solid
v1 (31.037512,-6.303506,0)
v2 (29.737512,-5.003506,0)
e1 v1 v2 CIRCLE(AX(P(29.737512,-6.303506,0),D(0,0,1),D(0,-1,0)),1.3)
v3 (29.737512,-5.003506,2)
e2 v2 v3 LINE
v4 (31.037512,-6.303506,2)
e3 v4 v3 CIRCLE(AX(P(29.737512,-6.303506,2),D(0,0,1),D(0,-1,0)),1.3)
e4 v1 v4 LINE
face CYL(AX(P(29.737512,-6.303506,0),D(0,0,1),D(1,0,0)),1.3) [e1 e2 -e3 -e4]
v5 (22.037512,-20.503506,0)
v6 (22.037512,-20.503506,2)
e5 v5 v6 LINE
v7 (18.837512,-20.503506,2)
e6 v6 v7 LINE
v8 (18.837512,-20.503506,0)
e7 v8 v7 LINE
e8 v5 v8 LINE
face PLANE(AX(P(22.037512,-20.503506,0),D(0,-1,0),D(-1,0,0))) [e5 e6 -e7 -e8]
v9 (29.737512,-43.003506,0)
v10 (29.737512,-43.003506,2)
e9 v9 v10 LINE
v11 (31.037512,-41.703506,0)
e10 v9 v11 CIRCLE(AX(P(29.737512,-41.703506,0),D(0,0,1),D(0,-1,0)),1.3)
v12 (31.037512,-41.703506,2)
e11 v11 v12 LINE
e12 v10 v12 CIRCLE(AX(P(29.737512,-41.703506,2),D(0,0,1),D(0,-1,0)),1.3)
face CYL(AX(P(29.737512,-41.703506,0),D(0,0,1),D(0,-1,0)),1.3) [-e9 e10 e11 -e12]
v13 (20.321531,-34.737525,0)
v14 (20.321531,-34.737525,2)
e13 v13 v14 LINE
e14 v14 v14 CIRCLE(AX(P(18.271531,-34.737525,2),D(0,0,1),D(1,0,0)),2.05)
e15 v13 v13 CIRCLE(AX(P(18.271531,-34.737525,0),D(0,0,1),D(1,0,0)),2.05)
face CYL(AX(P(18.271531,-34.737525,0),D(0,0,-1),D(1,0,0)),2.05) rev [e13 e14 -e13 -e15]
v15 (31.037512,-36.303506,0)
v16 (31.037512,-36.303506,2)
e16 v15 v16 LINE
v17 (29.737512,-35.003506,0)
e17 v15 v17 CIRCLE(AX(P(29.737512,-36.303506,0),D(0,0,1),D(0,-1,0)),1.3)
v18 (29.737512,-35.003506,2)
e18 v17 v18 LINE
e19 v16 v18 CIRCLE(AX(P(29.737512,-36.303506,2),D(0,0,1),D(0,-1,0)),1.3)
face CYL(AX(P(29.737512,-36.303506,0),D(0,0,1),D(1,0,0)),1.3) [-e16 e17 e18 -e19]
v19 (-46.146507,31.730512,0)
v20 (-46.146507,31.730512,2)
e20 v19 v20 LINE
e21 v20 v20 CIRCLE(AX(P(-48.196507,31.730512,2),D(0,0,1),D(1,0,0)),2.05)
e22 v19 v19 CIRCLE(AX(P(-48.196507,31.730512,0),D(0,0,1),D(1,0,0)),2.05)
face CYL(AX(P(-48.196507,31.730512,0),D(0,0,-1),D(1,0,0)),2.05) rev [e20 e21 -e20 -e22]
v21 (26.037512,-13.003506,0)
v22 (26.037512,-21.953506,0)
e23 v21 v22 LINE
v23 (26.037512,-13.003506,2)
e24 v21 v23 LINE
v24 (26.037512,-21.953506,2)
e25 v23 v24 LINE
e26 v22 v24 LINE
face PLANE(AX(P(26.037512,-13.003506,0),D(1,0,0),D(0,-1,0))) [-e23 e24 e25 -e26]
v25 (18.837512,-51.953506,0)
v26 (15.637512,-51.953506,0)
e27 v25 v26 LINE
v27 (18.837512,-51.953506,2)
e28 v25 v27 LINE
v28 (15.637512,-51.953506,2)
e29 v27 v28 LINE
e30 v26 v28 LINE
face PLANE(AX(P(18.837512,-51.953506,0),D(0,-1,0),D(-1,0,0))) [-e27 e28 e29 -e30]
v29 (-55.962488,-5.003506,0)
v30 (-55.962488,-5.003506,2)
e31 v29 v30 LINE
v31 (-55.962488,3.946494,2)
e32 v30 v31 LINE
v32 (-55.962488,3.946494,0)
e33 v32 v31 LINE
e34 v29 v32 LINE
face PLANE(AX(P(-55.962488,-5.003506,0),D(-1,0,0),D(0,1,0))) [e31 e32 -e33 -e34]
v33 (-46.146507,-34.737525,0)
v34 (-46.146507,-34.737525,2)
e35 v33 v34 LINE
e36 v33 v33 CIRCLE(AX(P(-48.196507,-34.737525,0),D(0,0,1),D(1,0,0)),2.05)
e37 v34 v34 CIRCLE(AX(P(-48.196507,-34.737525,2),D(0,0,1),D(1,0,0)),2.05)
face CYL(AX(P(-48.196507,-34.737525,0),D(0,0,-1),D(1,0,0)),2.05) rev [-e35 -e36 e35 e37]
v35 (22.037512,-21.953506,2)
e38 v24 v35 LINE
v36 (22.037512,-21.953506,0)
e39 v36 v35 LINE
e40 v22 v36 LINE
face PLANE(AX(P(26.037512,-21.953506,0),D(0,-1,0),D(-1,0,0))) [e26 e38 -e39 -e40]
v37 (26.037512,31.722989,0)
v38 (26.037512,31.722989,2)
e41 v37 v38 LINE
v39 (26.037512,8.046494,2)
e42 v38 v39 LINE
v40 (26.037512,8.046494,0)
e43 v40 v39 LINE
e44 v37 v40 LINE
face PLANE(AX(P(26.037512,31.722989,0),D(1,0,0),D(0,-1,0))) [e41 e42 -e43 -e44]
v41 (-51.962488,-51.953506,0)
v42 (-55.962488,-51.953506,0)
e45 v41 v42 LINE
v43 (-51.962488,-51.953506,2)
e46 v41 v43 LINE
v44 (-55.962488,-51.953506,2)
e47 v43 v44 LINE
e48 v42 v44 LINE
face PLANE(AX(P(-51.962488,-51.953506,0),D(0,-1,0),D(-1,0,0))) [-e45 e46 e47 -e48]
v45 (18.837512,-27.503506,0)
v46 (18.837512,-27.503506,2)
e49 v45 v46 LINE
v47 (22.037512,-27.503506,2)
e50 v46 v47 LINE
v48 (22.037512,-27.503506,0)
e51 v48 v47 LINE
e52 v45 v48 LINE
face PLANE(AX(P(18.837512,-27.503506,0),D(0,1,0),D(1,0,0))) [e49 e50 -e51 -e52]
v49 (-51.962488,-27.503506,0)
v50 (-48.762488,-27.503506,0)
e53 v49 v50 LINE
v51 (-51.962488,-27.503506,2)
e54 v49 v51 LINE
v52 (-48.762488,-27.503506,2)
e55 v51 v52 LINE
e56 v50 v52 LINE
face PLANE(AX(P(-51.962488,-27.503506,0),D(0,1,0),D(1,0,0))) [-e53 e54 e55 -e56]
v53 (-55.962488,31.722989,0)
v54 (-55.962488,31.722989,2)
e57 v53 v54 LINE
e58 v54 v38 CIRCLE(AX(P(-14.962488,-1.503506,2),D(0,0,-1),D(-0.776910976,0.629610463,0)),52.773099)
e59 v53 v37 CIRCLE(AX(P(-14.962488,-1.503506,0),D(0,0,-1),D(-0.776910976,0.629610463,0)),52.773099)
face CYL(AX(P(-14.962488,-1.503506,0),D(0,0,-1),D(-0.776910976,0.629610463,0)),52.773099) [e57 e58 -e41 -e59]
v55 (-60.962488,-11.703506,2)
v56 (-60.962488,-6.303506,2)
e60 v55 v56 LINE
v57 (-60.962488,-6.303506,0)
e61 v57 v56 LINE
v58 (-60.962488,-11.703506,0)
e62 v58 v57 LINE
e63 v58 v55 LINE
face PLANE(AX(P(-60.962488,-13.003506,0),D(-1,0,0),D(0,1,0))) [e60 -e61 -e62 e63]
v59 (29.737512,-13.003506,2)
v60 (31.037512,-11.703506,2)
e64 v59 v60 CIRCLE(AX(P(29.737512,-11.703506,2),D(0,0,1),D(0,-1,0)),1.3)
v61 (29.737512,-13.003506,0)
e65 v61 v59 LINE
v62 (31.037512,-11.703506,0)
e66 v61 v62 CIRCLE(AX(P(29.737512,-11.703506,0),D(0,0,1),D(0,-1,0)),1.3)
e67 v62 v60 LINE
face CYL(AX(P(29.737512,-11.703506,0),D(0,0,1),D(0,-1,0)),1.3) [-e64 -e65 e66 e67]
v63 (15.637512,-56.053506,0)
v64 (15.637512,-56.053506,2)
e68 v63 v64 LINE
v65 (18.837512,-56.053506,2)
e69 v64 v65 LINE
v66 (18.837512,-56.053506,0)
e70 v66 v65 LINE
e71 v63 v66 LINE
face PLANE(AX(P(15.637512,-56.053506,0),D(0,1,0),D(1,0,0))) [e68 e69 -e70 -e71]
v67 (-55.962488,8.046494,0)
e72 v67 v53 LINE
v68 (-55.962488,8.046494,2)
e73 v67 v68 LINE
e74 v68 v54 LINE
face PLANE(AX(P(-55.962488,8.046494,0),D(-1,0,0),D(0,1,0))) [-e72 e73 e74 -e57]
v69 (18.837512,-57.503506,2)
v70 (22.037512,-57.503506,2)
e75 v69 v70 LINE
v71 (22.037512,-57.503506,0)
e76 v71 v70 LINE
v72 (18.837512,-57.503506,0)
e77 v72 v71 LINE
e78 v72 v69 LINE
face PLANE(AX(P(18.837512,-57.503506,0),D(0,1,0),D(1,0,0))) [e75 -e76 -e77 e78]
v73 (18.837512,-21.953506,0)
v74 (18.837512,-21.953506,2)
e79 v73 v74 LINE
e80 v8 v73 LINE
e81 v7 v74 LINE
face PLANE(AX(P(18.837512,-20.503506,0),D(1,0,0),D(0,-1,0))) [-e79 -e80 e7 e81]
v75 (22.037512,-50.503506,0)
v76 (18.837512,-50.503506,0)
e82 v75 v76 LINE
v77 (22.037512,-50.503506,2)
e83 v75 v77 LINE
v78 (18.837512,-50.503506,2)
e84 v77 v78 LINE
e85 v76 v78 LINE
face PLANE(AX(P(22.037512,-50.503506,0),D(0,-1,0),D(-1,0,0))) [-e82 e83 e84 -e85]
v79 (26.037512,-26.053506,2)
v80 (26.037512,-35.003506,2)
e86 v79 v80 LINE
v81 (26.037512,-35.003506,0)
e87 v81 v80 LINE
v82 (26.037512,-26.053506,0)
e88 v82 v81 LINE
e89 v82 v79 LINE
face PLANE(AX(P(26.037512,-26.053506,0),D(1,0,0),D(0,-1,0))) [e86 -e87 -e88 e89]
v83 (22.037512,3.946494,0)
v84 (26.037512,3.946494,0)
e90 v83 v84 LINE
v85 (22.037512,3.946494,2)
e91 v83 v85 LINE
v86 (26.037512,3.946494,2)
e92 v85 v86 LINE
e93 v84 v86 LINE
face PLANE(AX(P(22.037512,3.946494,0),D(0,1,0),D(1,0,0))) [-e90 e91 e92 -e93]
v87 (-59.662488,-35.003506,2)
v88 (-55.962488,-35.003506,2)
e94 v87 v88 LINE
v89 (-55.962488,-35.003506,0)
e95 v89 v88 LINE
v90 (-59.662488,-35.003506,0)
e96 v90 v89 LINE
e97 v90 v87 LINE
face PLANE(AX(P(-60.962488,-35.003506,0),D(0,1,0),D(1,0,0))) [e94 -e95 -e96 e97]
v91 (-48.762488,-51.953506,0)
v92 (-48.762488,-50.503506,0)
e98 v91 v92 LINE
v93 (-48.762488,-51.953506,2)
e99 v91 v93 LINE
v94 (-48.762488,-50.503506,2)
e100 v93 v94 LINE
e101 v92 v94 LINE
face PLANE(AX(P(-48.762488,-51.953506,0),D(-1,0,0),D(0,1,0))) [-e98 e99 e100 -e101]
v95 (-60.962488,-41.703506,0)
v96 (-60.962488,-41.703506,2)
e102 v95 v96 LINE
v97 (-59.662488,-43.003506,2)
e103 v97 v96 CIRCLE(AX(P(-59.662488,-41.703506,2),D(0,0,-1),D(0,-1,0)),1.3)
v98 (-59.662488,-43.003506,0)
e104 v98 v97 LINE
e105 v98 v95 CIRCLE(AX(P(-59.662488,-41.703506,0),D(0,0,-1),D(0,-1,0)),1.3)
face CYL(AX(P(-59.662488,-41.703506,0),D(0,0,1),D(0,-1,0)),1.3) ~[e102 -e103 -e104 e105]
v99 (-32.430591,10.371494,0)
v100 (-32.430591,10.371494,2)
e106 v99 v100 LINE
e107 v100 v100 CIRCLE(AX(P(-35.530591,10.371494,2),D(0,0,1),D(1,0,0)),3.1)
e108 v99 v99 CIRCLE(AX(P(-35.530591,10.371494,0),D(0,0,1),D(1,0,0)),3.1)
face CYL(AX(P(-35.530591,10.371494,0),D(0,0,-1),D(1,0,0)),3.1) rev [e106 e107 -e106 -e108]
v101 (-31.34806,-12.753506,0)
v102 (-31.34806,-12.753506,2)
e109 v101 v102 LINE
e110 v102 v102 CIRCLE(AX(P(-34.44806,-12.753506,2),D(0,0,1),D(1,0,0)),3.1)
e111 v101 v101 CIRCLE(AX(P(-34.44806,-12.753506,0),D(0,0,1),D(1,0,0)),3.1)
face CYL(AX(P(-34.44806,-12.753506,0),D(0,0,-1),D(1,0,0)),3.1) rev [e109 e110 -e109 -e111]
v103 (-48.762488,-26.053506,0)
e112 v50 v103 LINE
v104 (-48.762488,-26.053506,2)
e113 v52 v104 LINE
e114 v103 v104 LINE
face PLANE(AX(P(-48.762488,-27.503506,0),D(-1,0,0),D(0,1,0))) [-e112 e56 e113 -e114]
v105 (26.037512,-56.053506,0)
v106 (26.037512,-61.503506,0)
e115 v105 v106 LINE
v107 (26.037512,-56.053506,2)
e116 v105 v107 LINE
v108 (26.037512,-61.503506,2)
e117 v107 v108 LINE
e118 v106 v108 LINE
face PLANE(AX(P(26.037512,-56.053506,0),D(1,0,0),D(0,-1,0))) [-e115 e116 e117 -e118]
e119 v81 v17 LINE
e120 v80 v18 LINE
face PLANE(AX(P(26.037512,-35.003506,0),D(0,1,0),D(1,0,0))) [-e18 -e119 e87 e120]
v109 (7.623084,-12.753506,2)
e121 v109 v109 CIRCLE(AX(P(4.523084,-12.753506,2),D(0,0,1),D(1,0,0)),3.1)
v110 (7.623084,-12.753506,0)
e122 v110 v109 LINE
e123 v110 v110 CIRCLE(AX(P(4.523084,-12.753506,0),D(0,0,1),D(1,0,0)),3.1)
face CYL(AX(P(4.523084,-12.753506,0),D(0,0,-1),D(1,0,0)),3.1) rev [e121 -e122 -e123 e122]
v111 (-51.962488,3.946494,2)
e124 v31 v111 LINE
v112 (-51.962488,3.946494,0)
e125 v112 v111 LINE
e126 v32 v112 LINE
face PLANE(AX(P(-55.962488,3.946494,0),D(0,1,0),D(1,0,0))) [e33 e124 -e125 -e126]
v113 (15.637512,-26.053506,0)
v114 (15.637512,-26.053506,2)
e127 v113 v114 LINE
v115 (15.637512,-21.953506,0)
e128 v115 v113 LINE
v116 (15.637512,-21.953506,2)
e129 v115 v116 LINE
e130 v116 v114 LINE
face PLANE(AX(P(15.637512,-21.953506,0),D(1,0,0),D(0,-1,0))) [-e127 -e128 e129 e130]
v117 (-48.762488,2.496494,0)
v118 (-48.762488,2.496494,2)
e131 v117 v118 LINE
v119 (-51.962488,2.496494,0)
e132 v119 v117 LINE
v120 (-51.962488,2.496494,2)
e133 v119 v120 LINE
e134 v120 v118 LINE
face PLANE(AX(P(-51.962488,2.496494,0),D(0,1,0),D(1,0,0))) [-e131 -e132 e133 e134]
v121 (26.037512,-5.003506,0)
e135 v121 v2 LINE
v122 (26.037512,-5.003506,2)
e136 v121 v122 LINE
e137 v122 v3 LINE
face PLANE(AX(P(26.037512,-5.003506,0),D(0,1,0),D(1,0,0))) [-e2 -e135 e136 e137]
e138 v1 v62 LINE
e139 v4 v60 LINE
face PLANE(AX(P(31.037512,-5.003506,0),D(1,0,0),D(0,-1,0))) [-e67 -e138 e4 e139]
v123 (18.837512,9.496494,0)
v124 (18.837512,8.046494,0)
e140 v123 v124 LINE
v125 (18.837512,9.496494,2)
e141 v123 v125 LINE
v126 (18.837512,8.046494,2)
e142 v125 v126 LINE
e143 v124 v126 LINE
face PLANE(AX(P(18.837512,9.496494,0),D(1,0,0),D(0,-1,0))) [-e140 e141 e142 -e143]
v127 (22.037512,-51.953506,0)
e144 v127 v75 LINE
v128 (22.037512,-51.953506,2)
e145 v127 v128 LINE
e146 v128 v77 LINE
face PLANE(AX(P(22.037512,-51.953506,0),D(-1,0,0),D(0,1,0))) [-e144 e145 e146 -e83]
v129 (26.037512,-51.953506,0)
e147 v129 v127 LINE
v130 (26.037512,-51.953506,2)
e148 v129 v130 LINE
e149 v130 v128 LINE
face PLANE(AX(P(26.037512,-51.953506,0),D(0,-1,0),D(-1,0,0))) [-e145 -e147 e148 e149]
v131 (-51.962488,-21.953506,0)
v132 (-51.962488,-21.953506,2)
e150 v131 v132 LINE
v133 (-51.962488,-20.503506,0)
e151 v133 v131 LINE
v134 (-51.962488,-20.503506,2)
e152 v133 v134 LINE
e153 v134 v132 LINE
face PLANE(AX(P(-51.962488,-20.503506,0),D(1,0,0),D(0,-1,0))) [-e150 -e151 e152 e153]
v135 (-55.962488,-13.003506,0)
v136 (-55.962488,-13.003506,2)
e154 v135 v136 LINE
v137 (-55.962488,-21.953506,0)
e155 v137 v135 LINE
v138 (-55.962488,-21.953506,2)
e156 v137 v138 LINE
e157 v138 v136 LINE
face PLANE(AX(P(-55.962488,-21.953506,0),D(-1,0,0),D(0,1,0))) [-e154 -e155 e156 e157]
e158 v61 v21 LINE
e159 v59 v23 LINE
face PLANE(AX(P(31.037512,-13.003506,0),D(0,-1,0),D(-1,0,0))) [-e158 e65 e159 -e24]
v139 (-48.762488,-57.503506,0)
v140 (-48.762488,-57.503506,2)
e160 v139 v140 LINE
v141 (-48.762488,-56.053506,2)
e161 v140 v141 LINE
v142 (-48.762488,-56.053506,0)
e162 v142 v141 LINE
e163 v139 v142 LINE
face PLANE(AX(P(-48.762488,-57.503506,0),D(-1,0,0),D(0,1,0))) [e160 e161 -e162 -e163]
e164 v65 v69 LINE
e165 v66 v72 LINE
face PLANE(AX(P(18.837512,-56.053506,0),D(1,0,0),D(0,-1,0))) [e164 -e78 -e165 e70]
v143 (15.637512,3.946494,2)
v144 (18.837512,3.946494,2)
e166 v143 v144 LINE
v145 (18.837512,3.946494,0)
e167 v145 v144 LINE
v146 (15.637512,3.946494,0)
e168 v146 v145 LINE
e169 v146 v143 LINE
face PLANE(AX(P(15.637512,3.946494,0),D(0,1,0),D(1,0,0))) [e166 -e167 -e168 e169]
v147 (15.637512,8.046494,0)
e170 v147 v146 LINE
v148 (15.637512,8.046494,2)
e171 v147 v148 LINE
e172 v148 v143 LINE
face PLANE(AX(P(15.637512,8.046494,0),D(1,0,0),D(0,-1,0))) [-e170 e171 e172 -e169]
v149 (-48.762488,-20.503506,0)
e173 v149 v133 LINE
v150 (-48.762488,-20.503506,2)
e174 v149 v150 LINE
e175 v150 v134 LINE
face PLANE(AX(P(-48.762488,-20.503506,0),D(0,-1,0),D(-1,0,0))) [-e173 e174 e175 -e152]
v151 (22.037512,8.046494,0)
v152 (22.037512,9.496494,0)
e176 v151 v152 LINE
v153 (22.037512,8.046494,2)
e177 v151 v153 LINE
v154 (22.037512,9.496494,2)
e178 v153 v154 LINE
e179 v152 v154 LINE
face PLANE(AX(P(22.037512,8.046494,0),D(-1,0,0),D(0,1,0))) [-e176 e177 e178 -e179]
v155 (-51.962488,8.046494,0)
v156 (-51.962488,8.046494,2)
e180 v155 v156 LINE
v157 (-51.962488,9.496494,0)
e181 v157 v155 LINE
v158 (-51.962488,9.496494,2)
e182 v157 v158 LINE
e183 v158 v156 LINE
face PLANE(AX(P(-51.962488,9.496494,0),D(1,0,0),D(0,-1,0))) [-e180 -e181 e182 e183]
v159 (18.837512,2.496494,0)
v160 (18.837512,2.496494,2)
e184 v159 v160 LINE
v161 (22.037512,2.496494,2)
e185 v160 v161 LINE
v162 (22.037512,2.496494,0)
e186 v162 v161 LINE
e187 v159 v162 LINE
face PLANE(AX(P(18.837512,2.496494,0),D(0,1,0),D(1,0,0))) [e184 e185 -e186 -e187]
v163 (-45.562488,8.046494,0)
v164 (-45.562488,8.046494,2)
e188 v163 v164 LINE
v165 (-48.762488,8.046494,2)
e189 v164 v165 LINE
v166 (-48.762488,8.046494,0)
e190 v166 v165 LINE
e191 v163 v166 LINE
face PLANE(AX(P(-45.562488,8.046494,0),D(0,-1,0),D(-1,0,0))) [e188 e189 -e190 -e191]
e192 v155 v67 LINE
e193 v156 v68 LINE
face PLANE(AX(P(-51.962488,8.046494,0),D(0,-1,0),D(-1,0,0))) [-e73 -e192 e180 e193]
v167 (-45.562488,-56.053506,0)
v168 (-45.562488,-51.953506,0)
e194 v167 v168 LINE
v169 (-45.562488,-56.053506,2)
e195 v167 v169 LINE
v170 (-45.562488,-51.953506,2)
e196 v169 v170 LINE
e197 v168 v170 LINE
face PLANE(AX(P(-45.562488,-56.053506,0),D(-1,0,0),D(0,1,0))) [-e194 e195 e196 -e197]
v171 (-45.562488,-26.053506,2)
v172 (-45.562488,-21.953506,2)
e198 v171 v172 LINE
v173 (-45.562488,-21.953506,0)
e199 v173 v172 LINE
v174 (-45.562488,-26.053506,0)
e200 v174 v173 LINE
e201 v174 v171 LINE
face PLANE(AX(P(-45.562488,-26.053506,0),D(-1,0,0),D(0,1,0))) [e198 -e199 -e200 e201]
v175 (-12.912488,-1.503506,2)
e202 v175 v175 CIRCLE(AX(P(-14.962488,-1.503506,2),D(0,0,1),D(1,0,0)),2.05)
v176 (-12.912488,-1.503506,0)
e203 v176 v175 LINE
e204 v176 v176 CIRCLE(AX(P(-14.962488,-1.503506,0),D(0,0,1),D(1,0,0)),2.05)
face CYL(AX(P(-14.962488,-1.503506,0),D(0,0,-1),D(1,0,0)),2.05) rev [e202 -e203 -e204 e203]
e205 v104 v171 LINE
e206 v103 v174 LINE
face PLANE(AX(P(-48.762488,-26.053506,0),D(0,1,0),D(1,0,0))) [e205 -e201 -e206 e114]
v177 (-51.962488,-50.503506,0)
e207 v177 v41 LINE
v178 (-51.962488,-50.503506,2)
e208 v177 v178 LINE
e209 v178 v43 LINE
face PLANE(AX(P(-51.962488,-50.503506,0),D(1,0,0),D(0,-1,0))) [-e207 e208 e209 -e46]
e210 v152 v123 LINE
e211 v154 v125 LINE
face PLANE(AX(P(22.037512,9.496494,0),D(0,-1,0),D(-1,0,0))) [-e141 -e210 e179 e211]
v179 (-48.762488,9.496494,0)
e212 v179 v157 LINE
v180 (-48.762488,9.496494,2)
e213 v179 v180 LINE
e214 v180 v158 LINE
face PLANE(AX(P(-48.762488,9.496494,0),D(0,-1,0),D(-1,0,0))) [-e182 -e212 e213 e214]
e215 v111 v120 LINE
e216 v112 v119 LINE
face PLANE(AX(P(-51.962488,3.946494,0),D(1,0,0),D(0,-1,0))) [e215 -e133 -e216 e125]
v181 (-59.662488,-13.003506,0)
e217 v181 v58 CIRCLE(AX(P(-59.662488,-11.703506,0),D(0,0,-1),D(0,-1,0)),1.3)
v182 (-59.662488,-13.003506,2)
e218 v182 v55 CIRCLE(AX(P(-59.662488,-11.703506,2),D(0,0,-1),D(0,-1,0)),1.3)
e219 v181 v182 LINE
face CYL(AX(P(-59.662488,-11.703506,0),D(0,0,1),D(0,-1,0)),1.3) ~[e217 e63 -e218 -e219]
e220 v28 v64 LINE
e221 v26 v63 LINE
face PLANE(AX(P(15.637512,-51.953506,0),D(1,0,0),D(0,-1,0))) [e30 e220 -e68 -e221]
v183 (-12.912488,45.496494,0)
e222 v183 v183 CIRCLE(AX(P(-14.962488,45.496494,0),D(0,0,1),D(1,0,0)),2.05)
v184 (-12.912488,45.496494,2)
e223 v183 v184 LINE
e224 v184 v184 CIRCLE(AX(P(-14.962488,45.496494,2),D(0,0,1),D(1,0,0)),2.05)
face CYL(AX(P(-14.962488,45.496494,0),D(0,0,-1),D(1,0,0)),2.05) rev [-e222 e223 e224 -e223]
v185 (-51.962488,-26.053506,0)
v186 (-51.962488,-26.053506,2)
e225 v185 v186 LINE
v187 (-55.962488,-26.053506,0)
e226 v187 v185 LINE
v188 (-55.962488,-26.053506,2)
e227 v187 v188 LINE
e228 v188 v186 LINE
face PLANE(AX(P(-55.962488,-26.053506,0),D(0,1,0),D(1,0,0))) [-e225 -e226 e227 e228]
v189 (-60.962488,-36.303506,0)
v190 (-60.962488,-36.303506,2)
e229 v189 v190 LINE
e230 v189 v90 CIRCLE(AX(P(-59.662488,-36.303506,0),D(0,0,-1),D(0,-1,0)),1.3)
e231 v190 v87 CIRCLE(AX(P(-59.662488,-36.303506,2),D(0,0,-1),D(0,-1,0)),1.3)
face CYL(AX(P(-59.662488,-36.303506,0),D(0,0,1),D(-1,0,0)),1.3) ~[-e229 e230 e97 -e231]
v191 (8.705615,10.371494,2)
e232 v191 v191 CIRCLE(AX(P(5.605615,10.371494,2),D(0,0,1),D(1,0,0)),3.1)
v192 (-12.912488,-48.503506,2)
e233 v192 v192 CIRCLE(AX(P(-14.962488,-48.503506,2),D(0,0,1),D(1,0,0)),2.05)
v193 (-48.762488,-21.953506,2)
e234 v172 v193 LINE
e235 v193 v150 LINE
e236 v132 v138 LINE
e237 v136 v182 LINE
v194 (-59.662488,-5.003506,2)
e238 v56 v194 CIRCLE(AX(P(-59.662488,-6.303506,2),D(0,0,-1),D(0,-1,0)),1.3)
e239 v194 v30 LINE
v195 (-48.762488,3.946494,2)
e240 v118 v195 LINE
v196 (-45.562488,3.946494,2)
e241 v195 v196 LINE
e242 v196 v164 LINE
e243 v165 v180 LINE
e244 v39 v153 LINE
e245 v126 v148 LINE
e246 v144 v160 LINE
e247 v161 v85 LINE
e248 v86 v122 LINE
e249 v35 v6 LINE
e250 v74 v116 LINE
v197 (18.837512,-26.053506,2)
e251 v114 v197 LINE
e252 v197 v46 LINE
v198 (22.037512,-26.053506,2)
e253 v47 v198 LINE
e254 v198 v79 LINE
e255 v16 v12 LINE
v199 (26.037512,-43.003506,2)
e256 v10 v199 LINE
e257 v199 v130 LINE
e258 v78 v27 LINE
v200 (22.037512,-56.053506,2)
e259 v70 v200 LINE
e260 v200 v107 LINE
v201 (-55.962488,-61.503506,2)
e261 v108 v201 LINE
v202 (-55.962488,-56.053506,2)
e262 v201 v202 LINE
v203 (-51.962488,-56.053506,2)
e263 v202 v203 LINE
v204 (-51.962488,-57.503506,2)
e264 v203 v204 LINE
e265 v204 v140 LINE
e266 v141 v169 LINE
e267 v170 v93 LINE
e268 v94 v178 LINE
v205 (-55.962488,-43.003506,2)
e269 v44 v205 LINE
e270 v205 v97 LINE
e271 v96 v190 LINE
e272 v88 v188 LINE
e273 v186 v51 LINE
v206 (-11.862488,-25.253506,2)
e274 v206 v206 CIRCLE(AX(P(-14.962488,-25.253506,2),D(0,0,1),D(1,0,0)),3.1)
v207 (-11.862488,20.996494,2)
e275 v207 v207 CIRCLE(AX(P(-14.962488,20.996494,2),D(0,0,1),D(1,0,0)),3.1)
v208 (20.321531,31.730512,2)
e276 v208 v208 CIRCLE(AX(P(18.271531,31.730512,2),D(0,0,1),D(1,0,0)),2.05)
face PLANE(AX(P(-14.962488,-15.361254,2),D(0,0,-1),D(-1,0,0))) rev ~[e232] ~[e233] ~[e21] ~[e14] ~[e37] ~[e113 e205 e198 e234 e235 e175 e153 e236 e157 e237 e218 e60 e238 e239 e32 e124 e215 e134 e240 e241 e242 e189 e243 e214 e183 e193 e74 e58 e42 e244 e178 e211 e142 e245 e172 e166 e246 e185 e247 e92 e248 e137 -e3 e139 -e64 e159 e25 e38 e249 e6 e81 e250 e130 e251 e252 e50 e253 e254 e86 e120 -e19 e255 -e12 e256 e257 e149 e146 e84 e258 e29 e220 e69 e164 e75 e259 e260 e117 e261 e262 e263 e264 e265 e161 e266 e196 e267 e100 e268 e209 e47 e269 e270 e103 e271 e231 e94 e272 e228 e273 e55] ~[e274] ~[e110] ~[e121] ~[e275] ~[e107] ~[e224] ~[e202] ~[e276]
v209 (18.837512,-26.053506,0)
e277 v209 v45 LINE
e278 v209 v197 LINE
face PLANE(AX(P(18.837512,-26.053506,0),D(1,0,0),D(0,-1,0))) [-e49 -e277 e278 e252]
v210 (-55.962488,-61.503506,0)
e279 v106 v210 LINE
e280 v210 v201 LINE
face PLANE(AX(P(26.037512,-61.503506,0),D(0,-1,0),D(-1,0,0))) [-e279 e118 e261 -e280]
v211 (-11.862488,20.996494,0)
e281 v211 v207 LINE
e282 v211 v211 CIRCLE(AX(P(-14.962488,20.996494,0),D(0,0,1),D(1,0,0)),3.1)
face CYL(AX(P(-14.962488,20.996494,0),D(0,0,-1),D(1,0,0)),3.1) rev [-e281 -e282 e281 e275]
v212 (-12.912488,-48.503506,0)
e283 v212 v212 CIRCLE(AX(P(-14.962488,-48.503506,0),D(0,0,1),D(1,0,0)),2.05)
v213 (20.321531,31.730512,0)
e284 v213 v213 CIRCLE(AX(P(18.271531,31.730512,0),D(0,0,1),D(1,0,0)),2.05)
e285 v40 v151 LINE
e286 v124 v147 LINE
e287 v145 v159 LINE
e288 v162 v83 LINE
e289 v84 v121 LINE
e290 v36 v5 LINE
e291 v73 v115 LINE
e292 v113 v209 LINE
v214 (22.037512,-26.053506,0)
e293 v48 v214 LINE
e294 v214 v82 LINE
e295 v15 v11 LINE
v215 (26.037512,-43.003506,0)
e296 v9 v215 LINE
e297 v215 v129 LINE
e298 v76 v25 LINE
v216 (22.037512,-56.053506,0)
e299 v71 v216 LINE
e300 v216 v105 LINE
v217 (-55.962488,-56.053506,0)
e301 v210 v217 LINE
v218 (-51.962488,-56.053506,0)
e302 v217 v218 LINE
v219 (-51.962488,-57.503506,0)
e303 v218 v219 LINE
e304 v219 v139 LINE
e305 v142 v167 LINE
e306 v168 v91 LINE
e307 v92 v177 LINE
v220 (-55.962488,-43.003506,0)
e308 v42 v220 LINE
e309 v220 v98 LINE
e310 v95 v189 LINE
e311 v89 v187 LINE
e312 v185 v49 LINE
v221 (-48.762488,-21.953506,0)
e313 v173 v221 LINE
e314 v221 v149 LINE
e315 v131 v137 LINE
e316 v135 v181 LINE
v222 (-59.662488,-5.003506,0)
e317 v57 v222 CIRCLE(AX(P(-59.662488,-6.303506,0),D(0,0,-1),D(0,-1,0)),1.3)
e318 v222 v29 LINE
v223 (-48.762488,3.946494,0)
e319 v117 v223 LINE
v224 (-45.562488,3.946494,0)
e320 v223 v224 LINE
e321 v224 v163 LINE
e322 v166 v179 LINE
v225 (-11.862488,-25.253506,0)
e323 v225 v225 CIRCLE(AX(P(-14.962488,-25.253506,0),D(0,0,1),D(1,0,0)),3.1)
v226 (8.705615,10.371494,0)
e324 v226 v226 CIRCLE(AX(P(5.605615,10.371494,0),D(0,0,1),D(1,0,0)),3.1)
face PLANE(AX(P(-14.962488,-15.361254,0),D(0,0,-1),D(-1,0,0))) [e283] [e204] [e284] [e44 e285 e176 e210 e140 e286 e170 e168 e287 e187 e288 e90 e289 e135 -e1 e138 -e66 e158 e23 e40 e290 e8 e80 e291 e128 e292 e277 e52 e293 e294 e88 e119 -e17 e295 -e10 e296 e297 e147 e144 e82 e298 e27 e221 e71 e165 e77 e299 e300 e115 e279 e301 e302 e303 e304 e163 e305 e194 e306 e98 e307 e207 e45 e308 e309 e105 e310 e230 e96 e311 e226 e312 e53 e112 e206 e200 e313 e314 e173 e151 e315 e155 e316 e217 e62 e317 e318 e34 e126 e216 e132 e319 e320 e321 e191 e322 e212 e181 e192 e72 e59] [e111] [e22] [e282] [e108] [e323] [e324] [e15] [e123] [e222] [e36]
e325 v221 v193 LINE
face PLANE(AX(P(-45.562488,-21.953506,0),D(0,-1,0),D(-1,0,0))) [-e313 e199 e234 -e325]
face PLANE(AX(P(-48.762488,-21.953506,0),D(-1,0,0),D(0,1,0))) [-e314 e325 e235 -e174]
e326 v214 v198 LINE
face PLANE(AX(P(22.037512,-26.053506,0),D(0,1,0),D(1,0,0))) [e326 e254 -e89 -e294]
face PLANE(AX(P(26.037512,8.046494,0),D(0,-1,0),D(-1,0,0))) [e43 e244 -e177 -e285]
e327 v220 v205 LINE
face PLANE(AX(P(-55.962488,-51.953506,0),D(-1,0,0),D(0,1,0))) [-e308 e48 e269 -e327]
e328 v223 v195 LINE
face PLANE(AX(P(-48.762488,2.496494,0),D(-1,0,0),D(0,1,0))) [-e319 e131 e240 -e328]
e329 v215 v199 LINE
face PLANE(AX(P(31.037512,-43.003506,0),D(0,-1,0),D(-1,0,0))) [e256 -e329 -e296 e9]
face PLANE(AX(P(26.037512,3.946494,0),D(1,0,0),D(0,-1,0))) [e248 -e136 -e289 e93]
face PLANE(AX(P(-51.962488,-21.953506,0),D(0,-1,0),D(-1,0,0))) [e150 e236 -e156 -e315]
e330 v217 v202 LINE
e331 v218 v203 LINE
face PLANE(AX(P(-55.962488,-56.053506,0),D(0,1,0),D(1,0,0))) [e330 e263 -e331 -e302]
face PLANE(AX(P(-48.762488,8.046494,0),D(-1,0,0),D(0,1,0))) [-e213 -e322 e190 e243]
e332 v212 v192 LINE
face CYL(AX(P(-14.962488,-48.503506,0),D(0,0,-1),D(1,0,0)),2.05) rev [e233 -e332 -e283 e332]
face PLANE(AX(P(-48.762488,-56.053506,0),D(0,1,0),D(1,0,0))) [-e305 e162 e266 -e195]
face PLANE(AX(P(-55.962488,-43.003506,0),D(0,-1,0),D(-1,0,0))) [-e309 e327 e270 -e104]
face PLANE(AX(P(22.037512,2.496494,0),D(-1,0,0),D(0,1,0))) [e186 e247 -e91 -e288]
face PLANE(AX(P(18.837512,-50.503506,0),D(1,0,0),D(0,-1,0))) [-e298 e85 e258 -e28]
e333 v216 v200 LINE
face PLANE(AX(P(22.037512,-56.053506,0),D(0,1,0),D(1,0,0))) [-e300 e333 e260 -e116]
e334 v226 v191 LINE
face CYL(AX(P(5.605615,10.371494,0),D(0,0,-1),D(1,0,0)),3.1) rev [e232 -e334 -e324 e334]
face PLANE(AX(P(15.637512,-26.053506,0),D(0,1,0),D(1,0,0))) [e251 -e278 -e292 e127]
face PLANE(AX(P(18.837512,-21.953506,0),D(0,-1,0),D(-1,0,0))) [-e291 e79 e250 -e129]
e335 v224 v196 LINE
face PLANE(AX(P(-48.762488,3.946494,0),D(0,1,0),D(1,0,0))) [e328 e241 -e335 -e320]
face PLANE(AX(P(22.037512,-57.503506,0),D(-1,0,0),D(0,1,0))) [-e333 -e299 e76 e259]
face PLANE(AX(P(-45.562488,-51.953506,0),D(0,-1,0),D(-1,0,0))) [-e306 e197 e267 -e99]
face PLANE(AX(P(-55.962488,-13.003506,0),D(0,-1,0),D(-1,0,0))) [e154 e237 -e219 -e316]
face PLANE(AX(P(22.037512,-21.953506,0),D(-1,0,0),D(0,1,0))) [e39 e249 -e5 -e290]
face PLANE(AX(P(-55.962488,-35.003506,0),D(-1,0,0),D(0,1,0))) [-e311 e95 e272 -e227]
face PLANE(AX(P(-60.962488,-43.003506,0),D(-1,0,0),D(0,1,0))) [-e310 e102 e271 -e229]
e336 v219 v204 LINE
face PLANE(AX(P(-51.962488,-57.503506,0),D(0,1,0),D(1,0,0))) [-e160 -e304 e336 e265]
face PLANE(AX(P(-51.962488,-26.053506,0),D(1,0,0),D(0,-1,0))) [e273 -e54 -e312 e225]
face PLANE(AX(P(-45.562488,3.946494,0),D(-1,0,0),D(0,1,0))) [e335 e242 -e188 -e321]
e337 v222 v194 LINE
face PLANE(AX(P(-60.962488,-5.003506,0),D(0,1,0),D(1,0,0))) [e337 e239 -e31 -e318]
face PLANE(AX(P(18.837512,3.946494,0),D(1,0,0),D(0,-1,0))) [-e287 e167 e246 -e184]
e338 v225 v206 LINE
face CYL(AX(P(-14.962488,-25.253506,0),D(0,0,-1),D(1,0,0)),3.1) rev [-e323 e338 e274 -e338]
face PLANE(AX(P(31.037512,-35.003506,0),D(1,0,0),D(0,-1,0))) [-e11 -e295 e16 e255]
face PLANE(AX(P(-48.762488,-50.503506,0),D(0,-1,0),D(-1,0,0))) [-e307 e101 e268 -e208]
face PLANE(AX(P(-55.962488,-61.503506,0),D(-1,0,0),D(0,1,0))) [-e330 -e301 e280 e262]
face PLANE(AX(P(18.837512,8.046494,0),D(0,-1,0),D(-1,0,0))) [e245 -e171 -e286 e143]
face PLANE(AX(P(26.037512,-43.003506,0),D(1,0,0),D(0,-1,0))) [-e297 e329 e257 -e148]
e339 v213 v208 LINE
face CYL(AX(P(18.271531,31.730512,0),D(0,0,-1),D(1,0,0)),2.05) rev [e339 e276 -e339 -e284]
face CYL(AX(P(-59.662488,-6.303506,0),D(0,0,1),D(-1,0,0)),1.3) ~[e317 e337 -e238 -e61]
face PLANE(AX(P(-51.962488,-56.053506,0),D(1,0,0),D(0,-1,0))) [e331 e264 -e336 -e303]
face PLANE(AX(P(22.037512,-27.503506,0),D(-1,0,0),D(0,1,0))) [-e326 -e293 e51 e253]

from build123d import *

# Parameters (mm, degrees)
SKETCH_1_R      = 3.1
SKETCH_1_R_2    = 2.05
EXTRUDE_2_DEPTH = 2
FILLET_1_R      = 1.3


with BuildPart() as part:
    # 草图1 → 凸台-拉伸2 (new body)
    with BuildSketch(Plane.XY):
        with BuildLine():
            Line((26.037512023, -61.503506411), (-55.962487977, -61.503506411))
            Line((-55.962487977, -61.503506411), (-55.962487977, -56.053506411))
            Line((-55.962487977, -56.053506411), (-51.962487977, -56.053506411))
            Line((-51.962487977, -56.053506411), (-51.962487977, -57.503506411))
            Line((-51.962487977, -57.503506411), (-48.762487977, -57.503506411))
            Line((-48.762487977, -57.503506411), (-48.762487977, -56.053506411))
            Line((-48.762487977, -56.053506411), (-45.562487977, -56.053506411))
            Line((-45.562487977, -56.053506411), (-45.562487977, -51.953506411))
            Line((-45.562487977, -51.953506411), (-48.762487977, -51.953506411))
            Line((-48.762487977, -51.953506411), (-48.762487977, -50.503506411))
            Line((-48.762487977, -50.503506411), (-51.962487977, -50.503506411))
            Line((-51.962487977, -50.503506411), (-51.962487977, -51.953506411))
            Line((-51.962487977, -51.953506411), (-55.962487977, -51.953506411))
            Line((-55.962487977, -51.953506411), (-55.962487977, -43.003506411))
            Line((-55.962487977, -43.003506411), (-60.962487977, -43.003506411))
            Line((-60.962487977, -43.003506411), (-60.962487977, -35.003506411))
            Line((-60.962487977, -35.003506411), (-55.962487977, -35.003506411))
            Line((-55.962487977, -35.003506411), (-55.962487977, -26.053506411))
            Line((-55.962487977, -26.053506411), (-51.962487977, -26.053506411))
            Line((-51.962487977, -26.053506411), (-51.962487977, -27.503506411))
            Line((-51.962487977, -27.503506411), (-48.762487977, -27.503506411))
            Line((-48.762487977, -27.503506411), (-48.762487977, -26.053506411))
            Line((-48.762487977, -26.053506411), (-45.562487977, -26.053506411))
            Line((-45.562487977, -26.053506411), (-45.562487977, -21.953506411))
            Line((-45.562487977, -21.953506411), (-48.762487977, -21.953506411))
            Line((-48.762487977, -21.953506411), (-48.762487977, -20.503506411))
            Line((-48.762487977, -20.503506411), (-51.962487977, -20.503506411))
            Line((-51.962487977, -20.503506411), (-51.962487977, -21.953506411))
            Line((-51.962487977, -21.953506411), (-55.962487977, -21.953506411))
            Line((-55.962487977, -21.953506411), (-55.962487977, -13.003506411))
            Line((-55.962487977, -13.003506411), (-60.962487977, -13.003506411))
            Line((-60.962487977, -13.003506411), (-60.962487977, -5.003506411))
            Line((-60.962487977, -5.003506411), (-55.962487977, -5.003506411))
            Line((-55.962487977, -5.003506411), (-55.962487977, 3.946493589))
            Line((-55.962487977, 3.946493589), (-51.962487977, 3.946493589))
            Line((-51.962487977, 3.946493589), (-51.962487977, 2.496493589))
            Line((-51.962487977, 2.496493589), (-48.762487977, 2.496493589))
            Line((-48.762487977, 2.496493589), (-48.762487977, 3.946493589))
            Line((-48.762487977, 3.946493589), (-45.562487977, 3.946493589))
            Line((-45.562487977, 3.946493589), (-45.562487977, 8.046493589))
            Line((-45.562487977, 8.046493589), (-48.762487977, 8.046493589))
            Line((-48.762487977, 8.046493589), (-48.762487977, 9.496493589))
            Line((-48.762487977, 9.496493589), (-51.962487977, 9.496493589))
            Line((-51.962487977, 9.496493589), (-51.962487977, 8.046493589))
            Line((-51.962487977, 8.046493589), (-55.962487977, 8.046493589))
            Line((-55.962487977, 8.046493589), (-55.962487977, 23.496493589))
            Line((-55.962487977, 23.496493589), (-55.962487977, 31.722989041))
            ThreePointArc((-55.962487977, 31.722989041), (-14.962487977, 51.269592797), (26.037512023, 31.722989041))
            Line((26.037512023, 31.722989041), (26.037512023, 23.496493589))
            Line((26.037512023, 23.496493589), (26.037512023, 8.046493589))
            Line((26.037512023, 8.046493589), (22.037512023, 8.046493589))
            Line((22.037512023, 8.046493589), (22.037512023, 9.496493589))
            Line((22.037512023, 9.496493589), (18.837512023, 9.496493589))
            Line((18.837512023, 9.496493589), (18.837512023, 8.046493589))
            Line((18.837512023, 8.046493589), (15.637512023, 8.046493589))
            Line((15.637512023, 8.046493589), (15.637512023, 3.946493589))
            Line((15.637512023, 3.946493589), (18.837512023, 3.946493589))
            Line((18.837512023, 3.946493589), (18.837512023, 2.496493589))
            Line((18.837512023, 2.496493589), (22.037512023, 2.496493589))
            Line((22.037512023, 2.496493589), (22.037512023, 3.946493589))
            Line((22.037512023, 3.946493589), (26.037512023, 3.946493589))
            Line((26.037512023, 3.946493589), (26.037512023, -5.003506411))
            Line((26.037512023, -5.003506411), (31.037512023, -5.003506411))
            Line((31.037512023, -5.003506411), (31.037512023, -13.003506411))
            Line((31.037512023, -13.003506411), (26.037512023, -13.003506411))
            Line((26.037512023, -13.003506411), (26.037512023, -21.953506411))
            Line((26.037512023, -21.953506411), (22.037512023, -21.953506411))
            Line((22.037512023, -21.953506411), (22.037512023, -20.503506411))
            Line((22.037512023, -20.503506411), (18.837512023, -20.503506411))
            Line((18.837512023, -20.503506411), (18.837512023, -21.953506411))
            Line((18.837512023, -21.953506411), (15.637512023, -21.953506411))
            Line((15.637512023, -21.953506411), (15.637512023, -26.053506411))
            Line((15.637512023, -26.053506411), (18.837512023, -26.053506411))
            Line((18.837512023, -26.053506411), (18.837512023, -27.503506411))
            Line((18.837512023, -27.503506411), (22.037512023, -27.503506411))
            Line((22.037512023, -27.503506411), (22.037512023, -26.053506411))
            Line((22.037512023, -26.053506411), (26.037512023, -26.053506411))
            Line((26.037512023, -26.053506411), (26.037512023, -35.003506411))
            Line((26.037512023, -35.003506411), (31.037512023, -35.003506411))
            Line((31.037512023, -35.003506411), (31.037512023, -43.003506411))
            Line((31.037512023, -43.003506411), (26.037512023, -43.003506411))
            Line((26.037512023, -43.003506411), (26.037512023, -51.953506411))
            Line((26.037512023, -51.953506411), (22.037512023, -51.953506411))
            Line((22.037512023, -51.953506411), (22.037512023, -50.503506411))
            Line((22.037512023, -50.503506411), (18.837512023, -50.503506411))
            Line((18.837512023, -50.503506411), (18.837512023, -51.953506411))
            Line((18.837512023, -51.953506411), (15.637512023, -51.953506411))
            Line((15.637512023, -51.953506411), (15.637512023, -56.053506411))
            Line((15.637512023, -56.053506411), (18.837512023, -56.053506411))
            Line((18.837512023, -56.053506411), (18.837512023, -57.503506411))
            Line((18.837512023, -57.503506411), (22.037512023, -57.503506411))
            Line((22.037512023, -57.503506411), (22.037512023, -56.053506411))
            Line((22.037512023, -56.053506411), (26.037512023, -56.053506411))
            Line((26.037512023, -56.053506411), (26.037512023, -61.503506411))
        make_face()
        with Locations((-14.962487977, -25.253506411)):
            Circle(SKETCH_1_R, mode=Mode.SUBTRACT)
        with Locations((4.523083608, -12.753506411)):
            Circle(SKETCH_1_R, mode=Mode.SUBTRACT)
        with Locations((-14.962487977, -1.503506411)):
            Circle(SKETCH_1_R_2, mode=Mode.SUBTRACT)
        with Locations((-35.530591317, 10.371493589)):
            Circle(SKETCH_1_R, mode=Mode.SUBTRACT)
        with Locations((-34.448059562, -12.753506411)):
            Circle(SKETCH_1_R, mode=Mode.SUBTRACT)
        with Locations((5.605615363, 10.371493589)):
            Circle(SKETCH_1_R, mode=Mode.SUBTRACT)
        with Locations((-14.962487977, 20.996493589)):
            Circle(SKETCH_1_R, mode=Mode.SUBTRACT)
        with Locations((18.271530739, -34.737525127)):
            Circle(SKETCH_1_R_2, mode=Mode.SUBTRACT)
        with Locations((-14.962487977, -48.503506411)):
            Circle(SKETCH_1_R_2, mode=Mode.SUBTRACT)
        with Locations((-48.196506692, -34.737525127)):
            Circle(SKETCH_1_R_2, mode=Mode.SUBTRACT)
        with Locations((-48.196506692, 31.730512305)):
            Circle(SKETCH_1_R_2, mode=Mode.SUBTRACT)
        with Locations((-14.962487977, 45.496493589)):
            Circle(SKETCH_1_R_2, mode=Mode.SUBTRACT)
        with Locations((18.271530739, 31.730512305)):
            Circle(SKETCH_1_R_2, mode=Mode.SUBTRACT)
    extrude(amount=EXTRUDE_2_DEPTH)

    # 圆角1
    fillet_1_edges = [part.edges().sort_by_distance(p)[0] for p in [
        (-60.962487977, -43.003506411, 1),
        (-60.962487977, -35.003506411, 1),
        (-60.962487977, -13.003506411, 1),
        (-60.962487977, -5.003506411, 1),
        (31.037512023, -5.003506411, 1),
        (31.037512023, -13.003506411, 1),
        (31.037512023, -35.003506411, 1),
        (31.037512023, -43.003506411, 1),
    ]]
    fillet(fillet_1_edges, radius=FILLET_1_R)


solid = part.part
